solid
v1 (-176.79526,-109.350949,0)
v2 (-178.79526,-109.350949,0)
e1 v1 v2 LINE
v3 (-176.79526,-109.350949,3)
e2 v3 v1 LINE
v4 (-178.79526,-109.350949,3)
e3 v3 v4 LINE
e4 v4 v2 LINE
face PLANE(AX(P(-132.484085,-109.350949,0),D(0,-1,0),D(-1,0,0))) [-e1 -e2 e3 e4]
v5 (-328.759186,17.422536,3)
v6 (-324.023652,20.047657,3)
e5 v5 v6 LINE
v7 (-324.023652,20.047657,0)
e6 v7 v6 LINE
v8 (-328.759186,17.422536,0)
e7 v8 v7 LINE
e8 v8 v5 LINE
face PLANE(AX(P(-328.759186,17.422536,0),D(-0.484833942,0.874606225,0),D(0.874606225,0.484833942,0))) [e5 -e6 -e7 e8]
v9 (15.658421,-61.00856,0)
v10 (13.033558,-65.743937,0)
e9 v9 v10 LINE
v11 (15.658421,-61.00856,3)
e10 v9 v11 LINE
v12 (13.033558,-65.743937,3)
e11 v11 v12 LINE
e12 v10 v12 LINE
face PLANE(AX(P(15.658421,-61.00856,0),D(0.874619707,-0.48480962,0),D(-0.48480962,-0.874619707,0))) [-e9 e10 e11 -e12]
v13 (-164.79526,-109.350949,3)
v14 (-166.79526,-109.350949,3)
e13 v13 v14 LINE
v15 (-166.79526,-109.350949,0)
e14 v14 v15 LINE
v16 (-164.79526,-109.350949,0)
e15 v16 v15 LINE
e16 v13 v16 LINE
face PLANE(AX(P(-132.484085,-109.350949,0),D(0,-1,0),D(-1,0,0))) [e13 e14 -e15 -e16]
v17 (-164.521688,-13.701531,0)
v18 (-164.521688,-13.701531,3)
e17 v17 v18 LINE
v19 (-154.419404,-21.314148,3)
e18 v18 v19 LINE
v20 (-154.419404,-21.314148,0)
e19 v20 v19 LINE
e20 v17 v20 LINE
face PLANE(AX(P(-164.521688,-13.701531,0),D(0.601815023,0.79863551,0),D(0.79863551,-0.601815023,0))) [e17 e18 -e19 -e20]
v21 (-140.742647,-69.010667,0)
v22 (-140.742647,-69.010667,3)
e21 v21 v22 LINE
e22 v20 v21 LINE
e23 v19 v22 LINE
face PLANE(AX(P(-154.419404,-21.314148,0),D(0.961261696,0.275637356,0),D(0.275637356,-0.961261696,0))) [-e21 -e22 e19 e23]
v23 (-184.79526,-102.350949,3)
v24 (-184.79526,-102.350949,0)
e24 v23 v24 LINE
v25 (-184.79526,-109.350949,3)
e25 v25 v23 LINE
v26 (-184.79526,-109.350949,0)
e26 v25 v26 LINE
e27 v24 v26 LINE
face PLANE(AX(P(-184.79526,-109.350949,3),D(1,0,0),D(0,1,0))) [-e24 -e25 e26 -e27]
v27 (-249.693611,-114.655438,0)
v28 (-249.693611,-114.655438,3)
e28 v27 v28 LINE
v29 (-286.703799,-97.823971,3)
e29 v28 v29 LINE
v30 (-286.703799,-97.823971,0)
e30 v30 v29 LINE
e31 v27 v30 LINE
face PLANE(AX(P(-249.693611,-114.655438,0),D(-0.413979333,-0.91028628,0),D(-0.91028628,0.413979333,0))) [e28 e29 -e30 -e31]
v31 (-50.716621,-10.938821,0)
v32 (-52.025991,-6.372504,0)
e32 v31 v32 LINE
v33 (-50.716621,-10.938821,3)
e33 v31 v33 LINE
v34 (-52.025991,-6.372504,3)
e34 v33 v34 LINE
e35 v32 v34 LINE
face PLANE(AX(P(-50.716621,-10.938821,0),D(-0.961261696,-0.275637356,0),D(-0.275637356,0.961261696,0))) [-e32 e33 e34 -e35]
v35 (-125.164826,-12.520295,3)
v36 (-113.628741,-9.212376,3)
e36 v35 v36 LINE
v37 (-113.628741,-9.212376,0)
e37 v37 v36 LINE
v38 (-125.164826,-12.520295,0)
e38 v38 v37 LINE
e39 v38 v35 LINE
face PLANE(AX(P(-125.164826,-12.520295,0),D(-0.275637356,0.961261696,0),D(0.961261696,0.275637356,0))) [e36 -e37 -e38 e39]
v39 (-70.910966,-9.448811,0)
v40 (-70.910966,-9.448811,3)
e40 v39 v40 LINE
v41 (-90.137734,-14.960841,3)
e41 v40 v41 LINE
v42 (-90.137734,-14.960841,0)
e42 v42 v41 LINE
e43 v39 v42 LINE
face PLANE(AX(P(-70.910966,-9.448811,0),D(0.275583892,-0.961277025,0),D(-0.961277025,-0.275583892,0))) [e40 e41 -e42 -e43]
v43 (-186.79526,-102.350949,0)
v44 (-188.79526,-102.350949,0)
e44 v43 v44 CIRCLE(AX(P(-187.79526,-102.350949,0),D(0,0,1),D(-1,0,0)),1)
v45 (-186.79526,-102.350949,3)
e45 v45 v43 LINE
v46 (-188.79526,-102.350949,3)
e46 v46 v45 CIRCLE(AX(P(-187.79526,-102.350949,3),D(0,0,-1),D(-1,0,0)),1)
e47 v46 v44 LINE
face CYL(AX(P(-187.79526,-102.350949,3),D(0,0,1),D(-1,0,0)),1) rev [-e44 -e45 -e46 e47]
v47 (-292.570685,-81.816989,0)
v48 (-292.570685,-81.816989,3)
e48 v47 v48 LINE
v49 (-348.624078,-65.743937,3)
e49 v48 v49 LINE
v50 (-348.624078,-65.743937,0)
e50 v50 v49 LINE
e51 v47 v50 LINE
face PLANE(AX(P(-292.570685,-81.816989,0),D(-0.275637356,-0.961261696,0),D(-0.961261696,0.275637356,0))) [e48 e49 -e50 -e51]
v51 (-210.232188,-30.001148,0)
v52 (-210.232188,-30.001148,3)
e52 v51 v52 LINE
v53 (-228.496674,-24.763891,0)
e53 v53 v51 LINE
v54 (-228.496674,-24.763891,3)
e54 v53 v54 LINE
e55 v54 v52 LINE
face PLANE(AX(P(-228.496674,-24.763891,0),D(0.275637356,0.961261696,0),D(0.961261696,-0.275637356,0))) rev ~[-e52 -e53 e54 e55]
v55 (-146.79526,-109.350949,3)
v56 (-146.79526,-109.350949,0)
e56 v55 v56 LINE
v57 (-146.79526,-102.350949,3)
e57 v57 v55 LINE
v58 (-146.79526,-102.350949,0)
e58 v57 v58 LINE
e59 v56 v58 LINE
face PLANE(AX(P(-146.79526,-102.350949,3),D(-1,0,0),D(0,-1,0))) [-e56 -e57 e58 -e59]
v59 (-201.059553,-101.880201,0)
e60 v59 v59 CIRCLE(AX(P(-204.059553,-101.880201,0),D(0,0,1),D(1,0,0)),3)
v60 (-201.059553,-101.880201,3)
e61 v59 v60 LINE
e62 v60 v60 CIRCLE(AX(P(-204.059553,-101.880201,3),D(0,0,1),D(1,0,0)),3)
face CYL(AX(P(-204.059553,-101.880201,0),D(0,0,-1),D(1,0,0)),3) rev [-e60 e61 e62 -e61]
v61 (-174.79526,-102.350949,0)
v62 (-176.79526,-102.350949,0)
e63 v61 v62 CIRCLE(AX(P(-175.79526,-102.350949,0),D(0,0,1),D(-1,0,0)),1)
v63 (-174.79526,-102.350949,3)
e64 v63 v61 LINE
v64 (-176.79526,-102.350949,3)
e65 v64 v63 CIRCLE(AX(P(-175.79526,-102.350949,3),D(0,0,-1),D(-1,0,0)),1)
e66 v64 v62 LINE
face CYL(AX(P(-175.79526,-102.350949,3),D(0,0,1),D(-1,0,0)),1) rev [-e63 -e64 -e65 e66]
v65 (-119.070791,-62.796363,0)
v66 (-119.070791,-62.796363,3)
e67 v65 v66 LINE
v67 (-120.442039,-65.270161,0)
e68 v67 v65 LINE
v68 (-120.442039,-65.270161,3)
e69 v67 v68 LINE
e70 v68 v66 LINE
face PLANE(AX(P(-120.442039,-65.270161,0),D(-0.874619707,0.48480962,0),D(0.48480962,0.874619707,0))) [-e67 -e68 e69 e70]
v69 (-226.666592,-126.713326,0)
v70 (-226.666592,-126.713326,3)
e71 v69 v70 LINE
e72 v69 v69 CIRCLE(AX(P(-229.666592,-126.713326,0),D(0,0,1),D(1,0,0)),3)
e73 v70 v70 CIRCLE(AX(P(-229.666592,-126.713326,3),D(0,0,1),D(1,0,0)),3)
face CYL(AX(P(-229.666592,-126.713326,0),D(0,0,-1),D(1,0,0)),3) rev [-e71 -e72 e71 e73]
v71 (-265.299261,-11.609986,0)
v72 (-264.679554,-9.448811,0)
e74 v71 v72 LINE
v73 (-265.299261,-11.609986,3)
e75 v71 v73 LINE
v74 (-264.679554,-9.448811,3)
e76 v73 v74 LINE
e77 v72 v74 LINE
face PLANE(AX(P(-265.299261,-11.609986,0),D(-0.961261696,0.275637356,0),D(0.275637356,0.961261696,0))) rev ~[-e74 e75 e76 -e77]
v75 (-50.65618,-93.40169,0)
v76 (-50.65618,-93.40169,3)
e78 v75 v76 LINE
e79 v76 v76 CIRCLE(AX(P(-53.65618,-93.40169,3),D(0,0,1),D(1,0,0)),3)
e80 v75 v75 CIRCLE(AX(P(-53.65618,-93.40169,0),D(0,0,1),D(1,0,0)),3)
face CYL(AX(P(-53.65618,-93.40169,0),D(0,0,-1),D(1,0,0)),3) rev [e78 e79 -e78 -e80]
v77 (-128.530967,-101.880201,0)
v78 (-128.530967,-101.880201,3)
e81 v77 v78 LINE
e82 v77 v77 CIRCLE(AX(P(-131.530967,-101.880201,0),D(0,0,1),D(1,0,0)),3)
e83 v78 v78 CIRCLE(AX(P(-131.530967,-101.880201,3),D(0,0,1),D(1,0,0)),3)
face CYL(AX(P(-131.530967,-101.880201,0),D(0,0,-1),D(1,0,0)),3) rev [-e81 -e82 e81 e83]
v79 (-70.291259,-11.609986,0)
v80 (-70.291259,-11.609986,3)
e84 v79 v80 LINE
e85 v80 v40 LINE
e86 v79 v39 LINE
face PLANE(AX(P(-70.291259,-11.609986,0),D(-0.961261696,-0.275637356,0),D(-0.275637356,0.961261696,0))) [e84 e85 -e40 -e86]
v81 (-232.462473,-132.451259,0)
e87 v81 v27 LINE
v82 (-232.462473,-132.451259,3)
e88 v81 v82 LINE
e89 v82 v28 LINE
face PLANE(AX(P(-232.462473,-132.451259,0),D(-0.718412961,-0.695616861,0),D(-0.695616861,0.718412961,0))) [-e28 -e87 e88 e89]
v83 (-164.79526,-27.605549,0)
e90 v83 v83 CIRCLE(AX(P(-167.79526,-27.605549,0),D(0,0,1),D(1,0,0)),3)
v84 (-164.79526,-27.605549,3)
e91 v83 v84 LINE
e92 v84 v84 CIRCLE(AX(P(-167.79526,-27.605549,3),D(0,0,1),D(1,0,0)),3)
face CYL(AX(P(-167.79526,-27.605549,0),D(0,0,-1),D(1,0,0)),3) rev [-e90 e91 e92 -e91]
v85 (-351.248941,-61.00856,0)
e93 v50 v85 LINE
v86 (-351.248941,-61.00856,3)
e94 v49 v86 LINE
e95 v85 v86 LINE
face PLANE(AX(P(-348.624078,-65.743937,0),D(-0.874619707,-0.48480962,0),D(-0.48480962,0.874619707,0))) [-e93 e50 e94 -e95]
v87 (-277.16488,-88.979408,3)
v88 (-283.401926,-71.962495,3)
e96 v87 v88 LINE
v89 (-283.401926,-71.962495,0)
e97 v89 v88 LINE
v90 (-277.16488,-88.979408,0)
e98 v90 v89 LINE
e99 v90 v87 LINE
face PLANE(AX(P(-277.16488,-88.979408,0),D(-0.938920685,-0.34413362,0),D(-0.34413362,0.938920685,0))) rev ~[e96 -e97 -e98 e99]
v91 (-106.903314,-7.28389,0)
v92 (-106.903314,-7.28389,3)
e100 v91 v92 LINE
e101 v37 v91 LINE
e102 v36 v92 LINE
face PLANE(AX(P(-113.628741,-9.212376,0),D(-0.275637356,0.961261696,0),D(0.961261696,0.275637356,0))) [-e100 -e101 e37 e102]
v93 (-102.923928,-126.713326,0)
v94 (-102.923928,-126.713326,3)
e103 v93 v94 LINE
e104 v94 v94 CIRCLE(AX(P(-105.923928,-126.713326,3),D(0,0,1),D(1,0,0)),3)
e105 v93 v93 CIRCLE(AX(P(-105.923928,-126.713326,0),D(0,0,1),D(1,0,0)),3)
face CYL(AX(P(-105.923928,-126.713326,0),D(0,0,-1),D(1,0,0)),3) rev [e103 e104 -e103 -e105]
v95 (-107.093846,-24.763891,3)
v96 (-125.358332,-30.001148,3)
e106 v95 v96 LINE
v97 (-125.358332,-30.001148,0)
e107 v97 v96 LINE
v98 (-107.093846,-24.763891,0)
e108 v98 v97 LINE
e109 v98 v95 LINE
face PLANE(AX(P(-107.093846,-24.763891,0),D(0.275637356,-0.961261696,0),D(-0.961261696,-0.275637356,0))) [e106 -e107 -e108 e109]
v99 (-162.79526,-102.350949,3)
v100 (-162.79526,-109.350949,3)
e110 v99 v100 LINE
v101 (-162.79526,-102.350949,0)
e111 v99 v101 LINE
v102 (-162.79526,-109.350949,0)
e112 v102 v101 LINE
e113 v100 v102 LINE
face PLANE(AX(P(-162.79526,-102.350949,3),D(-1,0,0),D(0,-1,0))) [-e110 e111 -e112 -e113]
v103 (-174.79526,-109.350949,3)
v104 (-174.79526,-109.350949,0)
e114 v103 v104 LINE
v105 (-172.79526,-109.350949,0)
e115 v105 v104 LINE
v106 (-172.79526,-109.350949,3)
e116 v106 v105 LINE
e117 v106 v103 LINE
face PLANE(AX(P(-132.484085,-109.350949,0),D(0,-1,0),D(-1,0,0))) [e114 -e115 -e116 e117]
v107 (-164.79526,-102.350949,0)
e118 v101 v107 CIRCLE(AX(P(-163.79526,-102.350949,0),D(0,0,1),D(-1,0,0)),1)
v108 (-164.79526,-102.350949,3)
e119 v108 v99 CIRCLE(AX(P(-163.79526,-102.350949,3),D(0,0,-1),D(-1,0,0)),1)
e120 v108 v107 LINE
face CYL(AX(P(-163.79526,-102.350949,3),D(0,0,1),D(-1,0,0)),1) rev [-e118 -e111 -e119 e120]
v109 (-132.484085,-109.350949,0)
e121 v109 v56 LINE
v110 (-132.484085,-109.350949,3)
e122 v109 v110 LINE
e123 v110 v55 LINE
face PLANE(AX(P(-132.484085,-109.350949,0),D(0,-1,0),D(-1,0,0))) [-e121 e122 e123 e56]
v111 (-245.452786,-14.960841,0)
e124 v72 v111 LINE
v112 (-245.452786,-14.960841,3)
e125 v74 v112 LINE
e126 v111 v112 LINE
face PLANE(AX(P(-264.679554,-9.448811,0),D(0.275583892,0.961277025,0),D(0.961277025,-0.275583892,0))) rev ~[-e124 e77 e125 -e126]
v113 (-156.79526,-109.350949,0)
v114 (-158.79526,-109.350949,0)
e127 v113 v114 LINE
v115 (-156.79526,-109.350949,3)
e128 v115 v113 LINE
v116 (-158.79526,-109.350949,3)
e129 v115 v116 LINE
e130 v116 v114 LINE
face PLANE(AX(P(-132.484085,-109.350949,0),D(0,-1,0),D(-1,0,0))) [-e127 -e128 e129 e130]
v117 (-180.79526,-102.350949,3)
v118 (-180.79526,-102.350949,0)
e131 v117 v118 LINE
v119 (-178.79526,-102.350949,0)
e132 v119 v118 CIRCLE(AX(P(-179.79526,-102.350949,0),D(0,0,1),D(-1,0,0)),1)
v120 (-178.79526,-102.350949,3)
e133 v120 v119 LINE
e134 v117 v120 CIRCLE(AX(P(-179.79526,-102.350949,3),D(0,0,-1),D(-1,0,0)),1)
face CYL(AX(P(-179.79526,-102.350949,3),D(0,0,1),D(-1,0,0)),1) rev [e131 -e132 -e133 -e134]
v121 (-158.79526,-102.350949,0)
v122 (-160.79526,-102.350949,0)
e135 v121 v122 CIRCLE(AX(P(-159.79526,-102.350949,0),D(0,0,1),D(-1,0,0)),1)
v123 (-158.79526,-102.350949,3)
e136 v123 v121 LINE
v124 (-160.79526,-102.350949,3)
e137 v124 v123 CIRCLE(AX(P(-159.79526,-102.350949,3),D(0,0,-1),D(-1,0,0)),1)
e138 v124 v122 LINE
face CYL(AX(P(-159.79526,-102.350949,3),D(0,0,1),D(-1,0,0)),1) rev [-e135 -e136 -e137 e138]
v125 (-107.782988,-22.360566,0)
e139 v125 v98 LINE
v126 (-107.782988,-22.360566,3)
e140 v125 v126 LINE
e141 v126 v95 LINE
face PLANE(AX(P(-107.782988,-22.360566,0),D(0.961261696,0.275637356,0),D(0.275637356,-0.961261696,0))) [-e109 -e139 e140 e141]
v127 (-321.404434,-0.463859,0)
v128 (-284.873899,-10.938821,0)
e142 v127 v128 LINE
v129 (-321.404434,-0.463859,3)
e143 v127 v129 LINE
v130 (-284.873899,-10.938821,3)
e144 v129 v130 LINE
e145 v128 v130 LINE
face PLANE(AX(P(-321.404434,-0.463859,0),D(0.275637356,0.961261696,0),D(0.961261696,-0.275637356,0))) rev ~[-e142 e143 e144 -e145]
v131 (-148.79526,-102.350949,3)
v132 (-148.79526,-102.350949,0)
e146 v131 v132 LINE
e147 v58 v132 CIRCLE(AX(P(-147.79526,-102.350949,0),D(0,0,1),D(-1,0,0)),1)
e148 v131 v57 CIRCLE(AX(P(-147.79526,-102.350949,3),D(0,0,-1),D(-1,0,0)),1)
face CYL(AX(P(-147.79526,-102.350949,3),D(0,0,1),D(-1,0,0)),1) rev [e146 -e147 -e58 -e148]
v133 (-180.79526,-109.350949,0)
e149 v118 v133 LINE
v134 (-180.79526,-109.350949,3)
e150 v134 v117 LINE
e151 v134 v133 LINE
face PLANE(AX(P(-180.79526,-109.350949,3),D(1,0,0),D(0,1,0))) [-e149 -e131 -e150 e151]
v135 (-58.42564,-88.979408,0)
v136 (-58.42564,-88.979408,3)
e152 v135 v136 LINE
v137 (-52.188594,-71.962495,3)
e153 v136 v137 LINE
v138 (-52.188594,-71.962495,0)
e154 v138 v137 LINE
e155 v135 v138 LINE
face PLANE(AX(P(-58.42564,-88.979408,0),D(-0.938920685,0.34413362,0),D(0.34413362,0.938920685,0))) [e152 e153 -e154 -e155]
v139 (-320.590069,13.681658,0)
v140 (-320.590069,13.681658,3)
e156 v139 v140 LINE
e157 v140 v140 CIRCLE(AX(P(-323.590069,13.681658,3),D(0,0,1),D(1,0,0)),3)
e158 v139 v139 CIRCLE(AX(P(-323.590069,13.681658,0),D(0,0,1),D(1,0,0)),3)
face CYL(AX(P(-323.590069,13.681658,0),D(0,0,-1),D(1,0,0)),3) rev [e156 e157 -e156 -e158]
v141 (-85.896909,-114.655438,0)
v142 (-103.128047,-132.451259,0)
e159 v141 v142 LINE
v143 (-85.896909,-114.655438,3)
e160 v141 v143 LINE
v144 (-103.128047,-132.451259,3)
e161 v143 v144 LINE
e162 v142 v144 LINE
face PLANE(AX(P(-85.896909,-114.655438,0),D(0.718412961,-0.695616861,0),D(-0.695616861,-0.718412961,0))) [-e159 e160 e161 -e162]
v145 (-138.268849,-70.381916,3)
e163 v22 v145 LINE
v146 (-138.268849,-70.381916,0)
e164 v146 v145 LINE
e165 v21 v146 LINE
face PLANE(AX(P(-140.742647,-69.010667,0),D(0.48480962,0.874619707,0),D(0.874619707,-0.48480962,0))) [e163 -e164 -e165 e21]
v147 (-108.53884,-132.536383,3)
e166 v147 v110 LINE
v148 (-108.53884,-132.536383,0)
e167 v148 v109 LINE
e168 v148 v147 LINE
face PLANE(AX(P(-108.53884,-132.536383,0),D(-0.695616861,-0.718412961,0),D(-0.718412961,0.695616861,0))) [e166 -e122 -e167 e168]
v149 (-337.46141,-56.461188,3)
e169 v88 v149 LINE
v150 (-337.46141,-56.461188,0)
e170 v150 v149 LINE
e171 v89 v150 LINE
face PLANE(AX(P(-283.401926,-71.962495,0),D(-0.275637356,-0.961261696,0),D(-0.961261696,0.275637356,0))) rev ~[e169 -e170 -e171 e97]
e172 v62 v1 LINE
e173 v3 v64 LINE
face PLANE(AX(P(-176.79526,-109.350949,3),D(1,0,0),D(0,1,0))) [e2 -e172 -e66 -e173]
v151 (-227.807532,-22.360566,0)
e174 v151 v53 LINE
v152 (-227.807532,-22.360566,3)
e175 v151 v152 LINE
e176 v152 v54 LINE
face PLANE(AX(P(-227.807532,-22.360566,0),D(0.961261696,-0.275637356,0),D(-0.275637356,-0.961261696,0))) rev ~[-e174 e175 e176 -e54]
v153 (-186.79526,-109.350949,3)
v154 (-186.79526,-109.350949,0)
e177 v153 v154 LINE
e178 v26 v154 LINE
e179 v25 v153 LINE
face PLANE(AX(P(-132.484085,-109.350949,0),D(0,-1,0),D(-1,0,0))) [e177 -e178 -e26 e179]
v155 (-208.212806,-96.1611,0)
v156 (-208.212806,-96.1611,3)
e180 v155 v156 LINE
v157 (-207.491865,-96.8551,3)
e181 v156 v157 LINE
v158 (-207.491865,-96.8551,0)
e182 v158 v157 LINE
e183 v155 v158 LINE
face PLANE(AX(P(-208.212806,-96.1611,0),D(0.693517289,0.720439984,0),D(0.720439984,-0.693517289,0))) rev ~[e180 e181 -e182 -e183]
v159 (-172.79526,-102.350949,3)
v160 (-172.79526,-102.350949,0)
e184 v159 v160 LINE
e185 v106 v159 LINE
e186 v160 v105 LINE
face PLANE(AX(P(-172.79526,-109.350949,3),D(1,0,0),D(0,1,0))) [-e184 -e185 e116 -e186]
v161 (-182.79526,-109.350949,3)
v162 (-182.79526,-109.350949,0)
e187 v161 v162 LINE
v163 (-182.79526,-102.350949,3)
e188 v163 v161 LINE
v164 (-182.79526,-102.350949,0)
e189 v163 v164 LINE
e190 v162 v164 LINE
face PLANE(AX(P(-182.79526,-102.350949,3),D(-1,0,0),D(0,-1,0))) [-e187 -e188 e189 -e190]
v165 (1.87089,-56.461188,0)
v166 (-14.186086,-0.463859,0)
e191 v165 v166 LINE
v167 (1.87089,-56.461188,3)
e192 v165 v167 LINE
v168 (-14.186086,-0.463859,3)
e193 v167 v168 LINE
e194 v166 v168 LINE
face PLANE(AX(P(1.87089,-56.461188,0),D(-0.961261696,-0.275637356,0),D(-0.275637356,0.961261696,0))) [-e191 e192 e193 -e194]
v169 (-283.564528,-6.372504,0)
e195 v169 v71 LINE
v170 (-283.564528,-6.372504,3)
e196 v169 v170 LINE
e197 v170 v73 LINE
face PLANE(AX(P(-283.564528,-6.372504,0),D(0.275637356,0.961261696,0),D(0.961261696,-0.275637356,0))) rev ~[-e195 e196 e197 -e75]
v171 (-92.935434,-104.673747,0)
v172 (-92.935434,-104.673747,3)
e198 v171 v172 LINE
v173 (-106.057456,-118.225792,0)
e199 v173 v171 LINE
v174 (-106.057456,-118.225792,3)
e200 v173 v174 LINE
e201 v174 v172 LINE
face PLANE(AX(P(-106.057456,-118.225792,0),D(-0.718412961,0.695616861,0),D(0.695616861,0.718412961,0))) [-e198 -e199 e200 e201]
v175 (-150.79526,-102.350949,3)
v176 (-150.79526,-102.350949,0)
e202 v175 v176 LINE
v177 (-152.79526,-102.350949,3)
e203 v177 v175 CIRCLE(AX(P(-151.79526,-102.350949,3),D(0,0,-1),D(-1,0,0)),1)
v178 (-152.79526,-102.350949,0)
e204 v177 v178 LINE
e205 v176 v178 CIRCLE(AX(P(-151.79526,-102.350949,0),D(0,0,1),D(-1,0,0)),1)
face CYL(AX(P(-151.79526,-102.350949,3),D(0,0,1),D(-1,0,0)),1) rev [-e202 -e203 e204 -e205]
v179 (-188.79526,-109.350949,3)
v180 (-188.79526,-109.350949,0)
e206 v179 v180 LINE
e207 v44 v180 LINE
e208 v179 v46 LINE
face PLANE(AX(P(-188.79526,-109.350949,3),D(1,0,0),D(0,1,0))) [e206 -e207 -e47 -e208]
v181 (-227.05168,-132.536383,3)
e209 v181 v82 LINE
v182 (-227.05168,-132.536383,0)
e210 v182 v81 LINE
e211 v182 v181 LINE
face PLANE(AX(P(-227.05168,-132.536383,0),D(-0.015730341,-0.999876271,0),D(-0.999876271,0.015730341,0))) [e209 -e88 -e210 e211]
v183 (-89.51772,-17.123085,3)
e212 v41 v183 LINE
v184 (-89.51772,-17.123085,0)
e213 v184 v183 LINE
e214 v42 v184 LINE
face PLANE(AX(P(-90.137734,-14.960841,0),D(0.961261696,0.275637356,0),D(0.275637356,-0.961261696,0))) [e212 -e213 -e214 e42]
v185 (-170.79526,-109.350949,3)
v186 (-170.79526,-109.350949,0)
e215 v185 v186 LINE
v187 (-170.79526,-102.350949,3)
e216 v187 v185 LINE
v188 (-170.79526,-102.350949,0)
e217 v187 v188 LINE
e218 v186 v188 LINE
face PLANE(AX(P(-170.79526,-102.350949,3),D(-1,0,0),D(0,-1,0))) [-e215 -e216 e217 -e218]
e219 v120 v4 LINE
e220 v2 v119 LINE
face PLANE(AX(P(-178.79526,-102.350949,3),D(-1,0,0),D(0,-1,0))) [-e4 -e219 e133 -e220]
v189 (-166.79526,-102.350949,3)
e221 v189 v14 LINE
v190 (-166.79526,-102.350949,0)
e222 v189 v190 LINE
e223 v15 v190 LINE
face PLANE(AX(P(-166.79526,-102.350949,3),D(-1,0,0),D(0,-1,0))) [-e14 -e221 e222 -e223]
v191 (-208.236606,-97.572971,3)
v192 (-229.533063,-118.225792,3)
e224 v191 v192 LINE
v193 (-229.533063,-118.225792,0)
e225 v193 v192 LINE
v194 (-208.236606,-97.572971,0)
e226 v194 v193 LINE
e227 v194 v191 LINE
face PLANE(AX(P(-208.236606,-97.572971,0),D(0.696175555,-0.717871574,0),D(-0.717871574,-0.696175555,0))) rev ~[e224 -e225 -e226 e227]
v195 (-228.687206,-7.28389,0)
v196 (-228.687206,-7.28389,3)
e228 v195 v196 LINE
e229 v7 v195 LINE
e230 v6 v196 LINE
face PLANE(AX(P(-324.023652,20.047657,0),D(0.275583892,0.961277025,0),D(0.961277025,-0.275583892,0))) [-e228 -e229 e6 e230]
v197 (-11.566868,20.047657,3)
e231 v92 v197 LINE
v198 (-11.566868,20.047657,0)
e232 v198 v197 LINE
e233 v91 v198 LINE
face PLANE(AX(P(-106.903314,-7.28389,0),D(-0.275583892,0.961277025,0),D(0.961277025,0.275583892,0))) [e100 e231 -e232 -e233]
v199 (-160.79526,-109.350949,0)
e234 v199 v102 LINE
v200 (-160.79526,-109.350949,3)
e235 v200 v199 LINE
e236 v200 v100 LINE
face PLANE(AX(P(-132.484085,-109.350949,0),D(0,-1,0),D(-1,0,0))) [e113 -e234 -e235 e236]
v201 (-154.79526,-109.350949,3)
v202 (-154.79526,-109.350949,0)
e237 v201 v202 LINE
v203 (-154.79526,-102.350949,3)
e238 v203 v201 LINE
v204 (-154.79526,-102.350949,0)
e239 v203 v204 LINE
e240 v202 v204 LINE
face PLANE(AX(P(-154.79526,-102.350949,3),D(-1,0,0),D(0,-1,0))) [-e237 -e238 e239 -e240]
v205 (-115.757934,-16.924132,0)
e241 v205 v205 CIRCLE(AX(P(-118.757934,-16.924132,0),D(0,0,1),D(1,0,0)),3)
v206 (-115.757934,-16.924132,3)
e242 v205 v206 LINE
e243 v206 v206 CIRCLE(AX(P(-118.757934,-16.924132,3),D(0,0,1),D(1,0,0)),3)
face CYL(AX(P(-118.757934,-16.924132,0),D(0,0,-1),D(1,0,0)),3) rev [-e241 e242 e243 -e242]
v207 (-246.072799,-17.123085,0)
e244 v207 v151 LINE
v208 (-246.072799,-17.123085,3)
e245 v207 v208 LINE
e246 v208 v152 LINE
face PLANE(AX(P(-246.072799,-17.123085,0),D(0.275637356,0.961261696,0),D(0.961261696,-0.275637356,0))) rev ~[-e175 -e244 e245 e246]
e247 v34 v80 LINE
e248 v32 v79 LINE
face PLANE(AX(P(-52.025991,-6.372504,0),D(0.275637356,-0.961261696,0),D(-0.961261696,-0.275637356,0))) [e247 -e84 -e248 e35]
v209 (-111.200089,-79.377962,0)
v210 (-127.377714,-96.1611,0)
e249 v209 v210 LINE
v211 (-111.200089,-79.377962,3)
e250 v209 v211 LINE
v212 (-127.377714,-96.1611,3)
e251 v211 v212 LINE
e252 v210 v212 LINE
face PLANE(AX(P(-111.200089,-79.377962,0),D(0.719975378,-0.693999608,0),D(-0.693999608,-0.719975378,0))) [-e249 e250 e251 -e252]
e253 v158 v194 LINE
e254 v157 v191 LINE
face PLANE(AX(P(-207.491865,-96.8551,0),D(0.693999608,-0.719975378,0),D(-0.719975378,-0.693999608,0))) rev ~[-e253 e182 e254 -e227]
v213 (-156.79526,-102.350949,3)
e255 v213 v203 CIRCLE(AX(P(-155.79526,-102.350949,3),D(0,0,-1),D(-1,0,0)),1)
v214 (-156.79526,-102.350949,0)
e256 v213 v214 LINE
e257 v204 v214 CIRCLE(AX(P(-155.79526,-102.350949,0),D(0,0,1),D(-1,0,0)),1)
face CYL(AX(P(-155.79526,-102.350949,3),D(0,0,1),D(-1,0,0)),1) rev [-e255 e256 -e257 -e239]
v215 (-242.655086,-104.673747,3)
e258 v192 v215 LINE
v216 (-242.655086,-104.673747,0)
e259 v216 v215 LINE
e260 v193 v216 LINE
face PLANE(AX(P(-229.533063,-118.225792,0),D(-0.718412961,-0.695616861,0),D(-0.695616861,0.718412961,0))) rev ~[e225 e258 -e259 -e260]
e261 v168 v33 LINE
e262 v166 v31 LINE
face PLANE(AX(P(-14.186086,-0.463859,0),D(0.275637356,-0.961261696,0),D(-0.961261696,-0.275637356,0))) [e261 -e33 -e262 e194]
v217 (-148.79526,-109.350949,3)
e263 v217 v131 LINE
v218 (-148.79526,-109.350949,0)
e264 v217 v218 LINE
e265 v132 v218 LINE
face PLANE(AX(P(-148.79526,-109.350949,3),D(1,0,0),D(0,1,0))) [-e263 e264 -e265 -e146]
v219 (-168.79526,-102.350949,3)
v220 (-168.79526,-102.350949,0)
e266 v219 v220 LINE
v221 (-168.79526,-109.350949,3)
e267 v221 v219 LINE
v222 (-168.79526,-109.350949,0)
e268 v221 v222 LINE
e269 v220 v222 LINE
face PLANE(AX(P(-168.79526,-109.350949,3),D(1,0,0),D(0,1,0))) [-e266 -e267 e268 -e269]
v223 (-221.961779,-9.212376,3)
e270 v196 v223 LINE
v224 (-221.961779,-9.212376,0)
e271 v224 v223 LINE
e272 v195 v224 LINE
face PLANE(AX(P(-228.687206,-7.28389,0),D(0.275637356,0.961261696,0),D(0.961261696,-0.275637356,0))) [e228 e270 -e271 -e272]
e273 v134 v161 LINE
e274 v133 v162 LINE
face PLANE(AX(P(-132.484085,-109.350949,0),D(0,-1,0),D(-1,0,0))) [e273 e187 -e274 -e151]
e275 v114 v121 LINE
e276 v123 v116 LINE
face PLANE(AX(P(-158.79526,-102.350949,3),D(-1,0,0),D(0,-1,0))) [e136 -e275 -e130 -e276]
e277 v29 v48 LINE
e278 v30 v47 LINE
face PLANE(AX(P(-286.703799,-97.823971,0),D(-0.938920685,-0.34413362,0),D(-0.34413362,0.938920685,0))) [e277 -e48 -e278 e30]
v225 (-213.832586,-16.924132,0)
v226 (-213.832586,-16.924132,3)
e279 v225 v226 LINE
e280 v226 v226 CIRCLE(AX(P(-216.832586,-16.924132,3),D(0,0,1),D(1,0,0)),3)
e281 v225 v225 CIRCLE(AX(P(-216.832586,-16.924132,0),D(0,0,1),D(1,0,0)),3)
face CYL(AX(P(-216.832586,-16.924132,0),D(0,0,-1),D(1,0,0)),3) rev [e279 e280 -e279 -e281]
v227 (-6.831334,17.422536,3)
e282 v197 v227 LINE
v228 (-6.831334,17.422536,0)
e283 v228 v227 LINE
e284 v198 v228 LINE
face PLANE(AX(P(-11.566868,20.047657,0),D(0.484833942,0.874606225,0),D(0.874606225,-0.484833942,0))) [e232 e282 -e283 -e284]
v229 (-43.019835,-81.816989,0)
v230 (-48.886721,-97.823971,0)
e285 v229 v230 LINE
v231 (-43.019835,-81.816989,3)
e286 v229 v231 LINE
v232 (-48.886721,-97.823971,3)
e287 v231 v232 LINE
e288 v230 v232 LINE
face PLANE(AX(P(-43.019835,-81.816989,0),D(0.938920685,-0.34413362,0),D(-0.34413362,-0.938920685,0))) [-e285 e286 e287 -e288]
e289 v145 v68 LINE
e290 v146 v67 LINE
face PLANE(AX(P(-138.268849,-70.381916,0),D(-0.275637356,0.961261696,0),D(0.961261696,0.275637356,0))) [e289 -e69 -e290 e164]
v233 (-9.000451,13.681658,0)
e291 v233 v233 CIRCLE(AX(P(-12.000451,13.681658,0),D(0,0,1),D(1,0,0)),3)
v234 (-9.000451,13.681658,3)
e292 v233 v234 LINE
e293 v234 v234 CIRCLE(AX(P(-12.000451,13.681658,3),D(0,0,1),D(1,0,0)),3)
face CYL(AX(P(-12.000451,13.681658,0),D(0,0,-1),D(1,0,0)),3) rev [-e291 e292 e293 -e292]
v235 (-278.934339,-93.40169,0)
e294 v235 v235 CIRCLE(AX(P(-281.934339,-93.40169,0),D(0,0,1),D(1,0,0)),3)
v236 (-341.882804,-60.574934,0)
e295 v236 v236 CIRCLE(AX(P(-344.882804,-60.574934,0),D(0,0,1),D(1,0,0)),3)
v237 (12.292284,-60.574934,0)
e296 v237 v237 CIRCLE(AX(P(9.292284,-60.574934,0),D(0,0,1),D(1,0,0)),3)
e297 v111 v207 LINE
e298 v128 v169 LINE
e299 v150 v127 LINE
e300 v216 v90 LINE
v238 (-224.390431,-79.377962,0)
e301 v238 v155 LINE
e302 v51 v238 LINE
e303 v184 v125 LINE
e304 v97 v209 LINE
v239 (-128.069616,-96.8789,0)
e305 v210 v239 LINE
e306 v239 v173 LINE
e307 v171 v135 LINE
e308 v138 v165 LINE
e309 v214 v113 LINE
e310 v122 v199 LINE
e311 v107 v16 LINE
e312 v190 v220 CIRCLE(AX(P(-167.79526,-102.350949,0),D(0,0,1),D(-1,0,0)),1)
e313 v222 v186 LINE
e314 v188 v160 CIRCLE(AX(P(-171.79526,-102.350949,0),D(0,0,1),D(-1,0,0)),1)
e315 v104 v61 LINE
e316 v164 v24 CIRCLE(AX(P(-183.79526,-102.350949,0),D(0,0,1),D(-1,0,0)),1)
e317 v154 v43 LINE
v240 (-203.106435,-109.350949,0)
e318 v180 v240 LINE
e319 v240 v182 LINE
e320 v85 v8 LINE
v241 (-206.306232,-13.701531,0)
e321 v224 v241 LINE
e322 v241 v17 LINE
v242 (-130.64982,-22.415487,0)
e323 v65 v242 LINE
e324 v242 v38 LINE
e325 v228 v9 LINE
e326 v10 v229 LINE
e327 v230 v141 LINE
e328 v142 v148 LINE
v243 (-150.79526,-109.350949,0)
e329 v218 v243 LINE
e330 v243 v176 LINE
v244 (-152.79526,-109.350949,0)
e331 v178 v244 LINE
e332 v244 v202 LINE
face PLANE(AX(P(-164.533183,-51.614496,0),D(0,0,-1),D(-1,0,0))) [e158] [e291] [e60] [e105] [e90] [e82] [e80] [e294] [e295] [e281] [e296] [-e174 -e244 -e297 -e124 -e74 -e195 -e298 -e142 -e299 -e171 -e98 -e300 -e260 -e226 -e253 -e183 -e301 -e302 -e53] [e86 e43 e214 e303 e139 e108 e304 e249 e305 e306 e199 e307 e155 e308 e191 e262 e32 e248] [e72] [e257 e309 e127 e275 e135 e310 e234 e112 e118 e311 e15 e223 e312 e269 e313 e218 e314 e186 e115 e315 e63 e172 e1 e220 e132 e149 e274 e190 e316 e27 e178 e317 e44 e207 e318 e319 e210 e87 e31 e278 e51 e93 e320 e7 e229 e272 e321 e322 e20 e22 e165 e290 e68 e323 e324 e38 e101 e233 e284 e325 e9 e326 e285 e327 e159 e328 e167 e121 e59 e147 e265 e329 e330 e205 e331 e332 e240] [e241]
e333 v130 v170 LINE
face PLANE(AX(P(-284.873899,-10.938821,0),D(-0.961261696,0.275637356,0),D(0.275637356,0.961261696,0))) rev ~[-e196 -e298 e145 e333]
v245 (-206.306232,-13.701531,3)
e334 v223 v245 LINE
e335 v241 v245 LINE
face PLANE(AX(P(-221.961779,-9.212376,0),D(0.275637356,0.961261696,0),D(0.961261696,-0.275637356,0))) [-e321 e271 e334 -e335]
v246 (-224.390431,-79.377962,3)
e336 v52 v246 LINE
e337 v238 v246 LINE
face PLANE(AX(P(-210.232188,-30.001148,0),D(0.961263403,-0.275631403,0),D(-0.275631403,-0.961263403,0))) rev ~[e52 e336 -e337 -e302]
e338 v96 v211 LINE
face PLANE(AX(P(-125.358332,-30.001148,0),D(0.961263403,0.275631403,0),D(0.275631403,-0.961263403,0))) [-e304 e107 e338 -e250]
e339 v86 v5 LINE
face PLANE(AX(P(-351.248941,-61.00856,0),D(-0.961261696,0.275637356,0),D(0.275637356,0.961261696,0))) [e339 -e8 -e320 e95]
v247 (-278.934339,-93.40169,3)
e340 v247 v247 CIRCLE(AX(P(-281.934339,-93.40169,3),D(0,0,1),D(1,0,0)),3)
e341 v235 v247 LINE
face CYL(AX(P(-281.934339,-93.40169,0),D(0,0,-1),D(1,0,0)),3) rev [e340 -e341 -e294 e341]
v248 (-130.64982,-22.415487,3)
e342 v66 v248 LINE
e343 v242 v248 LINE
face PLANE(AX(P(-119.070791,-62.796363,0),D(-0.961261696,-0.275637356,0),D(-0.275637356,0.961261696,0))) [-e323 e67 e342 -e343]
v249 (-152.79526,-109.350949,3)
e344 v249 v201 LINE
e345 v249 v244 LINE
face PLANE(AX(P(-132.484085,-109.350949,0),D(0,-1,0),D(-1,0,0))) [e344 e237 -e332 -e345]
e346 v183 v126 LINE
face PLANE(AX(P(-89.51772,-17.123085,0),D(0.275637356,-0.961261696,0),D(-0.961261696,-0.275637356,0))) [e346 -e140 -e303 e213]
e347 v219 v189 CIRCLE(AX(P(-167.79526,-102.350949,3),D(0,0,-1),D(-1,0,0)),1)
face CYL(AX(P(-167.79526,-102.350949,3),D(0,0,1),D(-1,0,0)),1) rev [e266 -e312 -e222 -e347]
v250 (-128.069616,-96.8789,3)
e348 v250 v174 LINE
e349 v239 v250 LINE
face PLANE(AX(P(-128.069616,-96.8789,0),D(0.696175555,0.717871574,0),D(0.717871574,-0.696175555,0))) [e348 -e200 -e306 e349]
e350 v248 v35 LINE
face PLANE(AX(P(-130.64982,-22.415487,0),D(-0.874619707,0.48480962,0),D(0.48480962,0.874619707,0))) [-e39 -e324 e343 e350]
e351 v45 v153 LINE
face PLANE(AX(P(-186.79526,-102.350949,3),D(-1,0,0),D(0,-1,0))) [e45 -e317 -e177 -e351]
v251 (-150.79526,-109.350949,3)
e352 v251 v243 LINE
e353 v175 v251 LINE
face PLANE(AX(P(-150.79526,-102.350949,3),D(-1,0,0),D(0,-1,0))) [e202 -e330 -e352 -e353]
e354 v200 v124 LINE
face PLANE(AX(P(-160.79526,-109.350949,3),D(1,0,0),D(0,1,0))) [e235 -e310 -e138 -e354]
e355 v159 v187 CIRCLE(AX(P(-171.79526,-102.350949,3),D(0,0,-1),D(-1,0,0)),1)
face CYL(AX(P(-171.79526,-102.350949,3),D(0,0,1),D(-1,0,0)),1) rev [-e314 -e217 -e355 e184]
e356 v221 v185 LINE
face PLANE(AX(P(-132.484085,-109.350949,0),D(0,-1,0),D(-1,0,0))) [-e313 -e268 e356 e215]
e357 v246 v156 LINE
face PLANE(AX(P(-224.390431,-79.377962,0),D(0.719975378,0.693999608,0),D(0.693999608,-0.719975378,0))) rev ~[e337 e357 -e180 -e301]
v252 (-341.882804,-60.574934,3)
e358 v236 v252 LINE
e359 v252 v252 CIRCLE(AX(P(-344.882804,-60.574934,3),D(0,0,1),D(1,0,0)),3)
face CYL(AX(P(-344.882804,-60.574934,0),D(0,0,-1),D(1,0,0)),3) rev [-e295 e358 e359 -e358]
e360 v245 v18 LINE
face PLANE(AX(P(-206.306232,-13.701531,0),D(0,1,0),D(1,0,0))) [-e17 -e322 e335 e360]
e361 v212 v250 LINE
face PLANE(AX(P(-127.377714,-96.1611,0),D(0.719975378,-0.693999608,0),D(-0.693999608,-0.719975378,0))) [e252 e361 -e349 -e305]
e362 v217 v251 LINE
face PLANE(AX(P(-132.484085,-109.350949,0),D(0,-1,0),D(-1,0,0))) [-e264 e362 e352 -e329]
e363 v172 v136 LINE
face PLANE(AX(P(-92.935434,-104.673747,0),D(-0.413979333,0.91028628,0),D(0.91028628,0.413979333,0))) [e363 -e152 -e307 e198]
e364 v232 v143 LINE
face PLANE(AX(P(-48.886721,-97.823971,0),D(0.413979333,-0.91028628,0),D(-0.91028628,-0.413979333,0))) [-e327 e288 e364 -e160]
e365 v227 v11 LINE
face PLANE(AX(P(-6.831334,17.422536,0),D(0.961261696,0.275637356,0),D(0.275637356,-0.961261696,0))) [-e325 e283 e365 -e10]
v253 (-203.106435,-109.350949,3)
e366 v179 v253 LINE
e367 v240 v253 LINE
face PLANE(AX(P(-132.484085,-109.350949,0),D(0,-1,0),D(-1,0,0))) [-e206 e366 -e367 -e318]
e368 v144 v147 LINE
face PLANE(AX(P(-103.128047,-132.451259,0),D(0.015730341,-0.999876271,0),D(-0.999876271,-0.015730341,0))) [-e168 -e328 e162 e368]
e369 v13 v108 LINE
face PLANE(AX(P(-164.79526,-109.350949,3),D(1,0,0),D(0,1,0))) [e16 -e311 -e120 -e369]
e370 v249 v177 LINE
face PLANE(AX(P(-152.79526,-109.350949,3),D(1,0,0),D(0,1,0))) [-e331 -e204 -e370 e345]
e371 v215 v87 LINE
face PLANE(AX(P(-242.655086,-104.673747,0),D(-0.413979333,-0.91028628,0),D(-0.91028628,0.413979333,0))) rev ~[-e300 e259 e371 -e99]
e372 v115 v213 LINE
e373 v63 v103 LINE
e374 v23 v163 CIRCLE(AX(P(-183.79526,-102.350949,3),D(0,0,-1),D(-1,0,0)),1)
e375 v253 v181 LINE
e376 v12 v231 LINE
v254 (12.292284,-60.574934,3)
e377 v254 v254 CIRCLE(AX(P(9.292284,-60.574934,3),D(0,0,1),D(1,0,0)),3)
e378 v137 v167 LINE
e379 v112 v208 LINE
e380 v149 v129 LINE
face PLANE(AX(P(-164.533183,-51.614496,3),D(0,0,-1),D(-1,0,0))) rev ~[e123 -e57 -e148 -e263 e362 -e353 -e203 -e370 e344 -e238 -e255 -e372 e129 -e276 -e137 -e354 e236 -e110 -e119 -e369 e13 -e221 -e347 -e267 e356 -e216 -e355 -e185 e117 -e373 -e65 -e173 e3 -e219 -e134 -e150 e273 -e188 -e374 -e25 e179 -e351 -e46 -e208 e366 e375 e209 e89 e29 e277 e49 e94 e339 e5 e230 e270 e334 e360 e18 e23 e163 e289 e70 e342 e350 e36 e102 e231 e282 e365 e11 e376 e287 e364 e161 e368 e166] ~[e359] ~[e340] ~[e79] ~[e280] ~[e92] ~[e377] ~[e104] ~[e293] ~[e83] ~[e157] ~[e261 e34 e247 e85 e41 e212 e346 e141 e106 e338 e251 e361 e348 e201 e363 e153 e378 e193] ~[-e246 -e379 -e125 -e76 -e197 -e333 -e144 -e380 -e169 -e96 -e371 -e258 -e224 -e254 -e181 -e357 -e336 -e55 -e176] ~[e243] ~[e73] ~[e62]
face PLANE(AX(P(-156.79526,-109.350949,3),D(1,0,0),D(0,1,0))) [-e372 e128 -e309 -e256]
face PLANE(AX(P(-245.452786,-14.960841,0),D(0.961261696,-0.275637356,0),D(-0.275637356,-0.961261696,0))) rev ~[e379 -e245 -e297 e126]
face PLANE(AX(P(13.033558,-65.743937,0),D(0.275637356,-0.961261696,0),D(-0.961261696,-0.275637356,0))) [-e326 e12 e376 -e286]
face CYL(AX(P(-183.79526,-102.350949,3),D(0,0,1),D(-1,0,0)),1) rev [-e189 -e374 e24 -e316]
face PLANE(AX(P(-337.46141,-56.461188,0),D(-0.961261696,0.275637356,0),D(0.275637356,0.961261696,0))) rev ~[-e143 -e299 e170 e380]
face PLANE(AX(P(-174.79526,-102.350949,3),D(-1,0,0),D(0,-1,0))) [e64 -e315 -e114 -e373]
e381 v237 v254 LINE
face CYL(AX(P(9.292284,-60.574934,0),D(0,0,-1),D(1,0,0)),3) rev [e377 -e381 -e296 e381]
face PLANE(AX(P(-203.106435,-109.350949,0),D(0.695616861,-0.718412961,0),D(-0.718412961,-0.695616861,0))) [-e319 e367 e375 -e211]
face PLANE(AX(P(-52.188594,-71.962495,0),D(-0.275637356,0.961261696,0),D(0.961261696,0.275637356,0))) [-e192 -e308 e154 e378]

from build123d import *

# Parameters (mm, degrees)
ESQUISSE1_R             = 3
BOSS_EXTRU_1_DEPTH      = 3
ENL_V_MAT_EXTRU_1_DEPTH = 10


with BuildPart() as part:
    # Esquisse1 → Boss.-Extru.1 (new body)
    with BuildSketch(Plane.XY):
        Polygon((-119.070790786, -62.796362516), (-130.649820486, -22.415487094), (-125.164825765, -12.52029468), (-113.628741096, -9.212375631), (-106.903313784, -7.283890382), (-11.566867539, 20.047657387), (-6.831333687, 17.422535954), (15.658421065, -61.008559605), (13.033558244, -65.743937486), (-43.019834736, -81.816989279), (-48.88672074, -97.823971184), (-85.896908628, -114.655437515), (-103.128047086, -132.451258614), (-108.538839937, -132.536382762), (-132.484085232, -109.350948678), (-203.106434511, -109.350948678), (-227.051679806, -132.536382762), (-232.462472657, -132.451258614), (-249.693611115, -114.655437515), (-286.703799003, -97.823971184), (-292.570685007, -81.816989279), (-348.624077987, -65.743937486), (-351.248940808, -61.008559605), (-328.759186056, 17.422535954), (-324.023652204, 20.047657387), (-228.687205959, -7.283890382), (-221.961778647, -9.212375631), (-206.306232172, -13.701531345), (-164.521687886, -13.701531345), (-154.419403971, -21.314148304), (-140.742647218, -69.010667349), (-138.268849115, -70.381916029), (-120.442039466, -65.27016062), align=None)
        with Locations((-12.000450916, 13.68165837)):
            Circle(ESQUISSE1_R, mode=Mode.SUBTRACT)
        with Locations((-118.757933777, -16.924131519)):
            Circle(ESQUISSE1_R, mode=Mode.SUBTRACT)
        with Locations((9.292284284, -60.574933915)):
            Circle(ESQUISSE1_R, mode=Mode.SUBTRACT)
        with Locations((-53.656180266, -93.401689518)):
            Circle(ESQUISSE1_R, mode=Mode.SUBTRACT)
        with Locations((-105.923928137, -126.713325795)):
            Circle(ESQUISSE1_R, mode=Mode.SUBTRACT)
        with Locations((-131.530967037, -101.880200807)):
            Circle(ESQUISSE1_R, mode=Mode.SUBTRACT)
        with Locations((-323.590068827, 13.68165837)):
            Circle(ESQUISSE1_R, mode=Mode.SUBTRACT)
        with Locations((-204.059552706, -101.880200807)):
            Circle(ESQUISSE1_R, mode=Mode.SUBTRACT)
        with Locations((-229.666591606, -126.713325795)):
            Circle(ESQUISSE1_R, mode=Mode.SUBTRACT)
        with Locations((-281.934339477, -93.401689518)):
            Circle(ESQUISSE1_R, mode=Mode.SUBTRACT)
        with Locations((-344.882804027, -60.574933915)):
            Circle(ESQUISSE1_R, mode=Mode.SUBTRACT)
        with Locations((-216.832585966, -16.924131519)):
            Circle(ESQUISSE1_R, mode=Mode.SUBTRACT)
        with Locations((-167.795259872, -27.605548894)):
            Circle(ESQUISSE1_R, mode=Mode.SUBTRACT)
        Polygon((-128.0696158, -96.878899722), (-106.057456456, -118.225792128), (-92.935433745, -104.673746846), (-58.425639792, -88.979407851), (-52.188593581, -71.96249534), (1.870889973, -56.461187875), (-14.186085737, -0.463858857), (-50.716621092, -10.938821309), (-52.025991399, -6.372504389), (-70.291259076, -11.609985616), (-70.910965859, -9.448811229), (-90.137733677, -14.960840928), (-89.517720268, -17.123084647), (-107.782987945, -22.360565873), (-107.093845678, -24.763890567), (-125.358331696, -30.001147656), (-111.200088958, -79.377961929), (-127.377713529, -96.161100182), align=None, mode=Mode.SUBTRACT)
        Polygon((-224.390430785, -79.377961929), (-208.212806214, -96.161100182), (-207.491865187, -96.85509979), (-208.236606037, -97.572971364), (-229.533063287, -118.225792128), (-242.655085998, -104.673746846), (-277.164879951, -88.979407851), (-283.401926162, -71.96249534), (-337.461409717, -56.461187875), (-321.404434006, -0.463858857), (-284.873898651, -10.938821309), (-283.564528345, -6.372504389), (-265.299260667, -11.609985616), (-264.679553884, -9.448811229), (-245.452786066, -14.960840928), (-246.072799476, -17.123084647), (-227.807531798, -22.360565873), (-228.496674065, -24.763890567), (-210.232188047, -30.001147656), align=None, mode=Mode.SUBTRACT)
    extrude(amount=BOSS_EXTRU_1_DEPTH)

    # Esquisse2 → Enlèv. mat.-Extru.1 (cut)
    with BuildSketch(Plane.XY.offset(3)):
        with BuildLine():
            Line((-168.795259872, -109.350948678), (-168.795259872, -102.350948678))
            ThreePointArc((-168.795259872, -102.350948678), (-167.795259872, -101.350948678), (-166.795259872, -102.350948678))
            Line((-166.795259872, -102.350948678), (-166.795259872, -109.350948678))
            ThreePointArc((-166.795259872, -109.350948678), (-167.795259872, -110.350948678), (-168.795259872, -109.350948678))
        make_face()
        with BuildLine():
            Line((-164.795259872, -109.350948678), (-164.795259872, -102.350948678))
            ThreePointArc((-164.795259872, -102.350948678), (-163.795259872, -101.350948678), (-162.795259872, -102.350948678))
            Line((-162.795259872, -102.350948678), (-162.795259872, -109.350948678))
            ThreePointArc((-162.795259872, -109.350948678), (-163.795259872, -110.350948678), (-164.795259872, -109.350948678))
        make_face()
        with BuildLine():
            Line((-160.795259872, -109.350948678), (-160.795259872, -102.350948678))
            ThreePointArc((-160.795259872, -102.350948678), (-159.795259872, -101.350948678), (-158.795259872, -102.350948678))
            Line((-158.795259872, -102.350948678), (-158.795259872, -109.350948678))
            ThreePointArc((-158.795259872, -109.350948678), (-159.795259872, -110.350948678), (-160.795259872, -109.350948678))
        make_face()
        with BuildLine():
            Line((-156.795259872, -109.350948678), (-156.795259872, -102.350948678))
            ThreePointArc((-156.795259872, -102.350948678), (-155.795259872, -101.350948678), (-154.795259872, -102.350948678))
            Line((-154.795259872, -102.350948678), (-154.795259872, -109.350948678))
            ThreePointArc((-154.795259872, -109.350948678), (-155.795259872, -110.350948678), (-156.795259872, -109.350948678))
        make_face()
        with BuildLine():
            Line((-152.795259872, -109.350948678), (-152.795259872, -102.350948678))
            ThreePointArc((-152.795259872, -102.350948678), (-151.795259872, -101.350948678), (-150.795259872, -102.350948678))
            Line((-150.795259872, -102.350948678), (-150.795259872, -109.350948678))
            ThreePointArc((-150.795259872, -109.350948678), (-151.795259872, -110.350948678), (-152.795259872, -109.350948678))
        make_face()
        with BuildLine():
            Line((-148.795259872, -109.350948678), (-148.795259872, -102.350948678))
            ThreePointArc((-148.795259872, -102.350948678), (-147.795259872, -101.350948678), (-146.795259872, -102.350948678))
            Line((-146.795259872, -102.350948678), (-146.795259872, -109.350948678))
            ThreePointArc((-146.795259872, -109.350948678), (-147.795259872, -110.350948678), (-148.795259872, -109.350948678))
        make_face()
        with BuildLine():
            Line((-172.795259872, -109.350948678), (-172.795259872, -102.350948678))
            ThreePointArc((-172.795259872, -102.350948678), (-171.795259872, -101.350948678), (-170.795259872, -102.350948678))
            Line((-170.795259872, -102.350948678), (-170.795259872, -109.350948678))
            ThreePointArc((-170.795259872, -109.350948678), (-171.795259872, -110.350948678), (-172.795259872, -109.350948678))
        make_face()
        with BuildLine():
            Line((-176.795259872, -109.350948678), (-176.795259872, -102.350948678))
            ThreePointArc((-176.795259872, -102.350948678), (-175.795259872, -101.350948678), (-174.795259872, -102.350948678))
            Line((-174.795259872, -102.350948678), (-174.795259872, -109.350948678))
            ThreePointArc((-174.795259872, -109.350948678), (-175.795259872, -110.350948678), (-176.795259872, -109.350948678))
        make_face()
        with BuildLine():
            Line((-180.795259872, -109.350948678), (-180.795259872, -102.350948678))
            ThreePointArc((-180.795259872, -102.350948678), (-179.795259872, -101.350948678), (-178.795259872, -102.350948678))
            Line((-178.795259872, -102.350948678), (-178.795259872, -109.350948678))
            ThreePointArc((-178.795259872, -109.350948678), (-179.795259872, -110.350948678), (-180.795259872, -109.350948678))
        make_face()
        with BuildLine():
            Line((-184.795259872, -109.350948678), (-184.795259872, -102.350948678))
            ThreePointArc((-184.795259872, -102.350948678), (-183.795259872, -101.350948678), (-182.795259872, -102.350948678))
            Line((-182.795259872, -102.350948678), (-182.795259872, -109.350948678))
            ThreePointArc((-182.795259872, -109.350948678), (-183.795259872, -110.350948678), (-184.795259872, -109.350948678))
        make_face()
        with BuildLine():
            Line((-188.795259872, -109.350948678), (-188.795259872, -102.350948678))
            ThreePointArc((-188.795259872, -102.350948678), (-187.795259872, -101.350948678), (-186.795259872, -102.350948678))
            Line((-186.795259872, -102.350948678), (-186.795259872, -109.350948678))
            ThreePointArc((-186.795259872, -109.350948678), (-187.795259872, -110.350948678), (-188.795259872, -109.350948678))
        make_face()
    extrude(amount=-ENL_V_MAT_EXTRU_1_DEPTH, mode=Mode.SUBTRACT)


solid = part.part
